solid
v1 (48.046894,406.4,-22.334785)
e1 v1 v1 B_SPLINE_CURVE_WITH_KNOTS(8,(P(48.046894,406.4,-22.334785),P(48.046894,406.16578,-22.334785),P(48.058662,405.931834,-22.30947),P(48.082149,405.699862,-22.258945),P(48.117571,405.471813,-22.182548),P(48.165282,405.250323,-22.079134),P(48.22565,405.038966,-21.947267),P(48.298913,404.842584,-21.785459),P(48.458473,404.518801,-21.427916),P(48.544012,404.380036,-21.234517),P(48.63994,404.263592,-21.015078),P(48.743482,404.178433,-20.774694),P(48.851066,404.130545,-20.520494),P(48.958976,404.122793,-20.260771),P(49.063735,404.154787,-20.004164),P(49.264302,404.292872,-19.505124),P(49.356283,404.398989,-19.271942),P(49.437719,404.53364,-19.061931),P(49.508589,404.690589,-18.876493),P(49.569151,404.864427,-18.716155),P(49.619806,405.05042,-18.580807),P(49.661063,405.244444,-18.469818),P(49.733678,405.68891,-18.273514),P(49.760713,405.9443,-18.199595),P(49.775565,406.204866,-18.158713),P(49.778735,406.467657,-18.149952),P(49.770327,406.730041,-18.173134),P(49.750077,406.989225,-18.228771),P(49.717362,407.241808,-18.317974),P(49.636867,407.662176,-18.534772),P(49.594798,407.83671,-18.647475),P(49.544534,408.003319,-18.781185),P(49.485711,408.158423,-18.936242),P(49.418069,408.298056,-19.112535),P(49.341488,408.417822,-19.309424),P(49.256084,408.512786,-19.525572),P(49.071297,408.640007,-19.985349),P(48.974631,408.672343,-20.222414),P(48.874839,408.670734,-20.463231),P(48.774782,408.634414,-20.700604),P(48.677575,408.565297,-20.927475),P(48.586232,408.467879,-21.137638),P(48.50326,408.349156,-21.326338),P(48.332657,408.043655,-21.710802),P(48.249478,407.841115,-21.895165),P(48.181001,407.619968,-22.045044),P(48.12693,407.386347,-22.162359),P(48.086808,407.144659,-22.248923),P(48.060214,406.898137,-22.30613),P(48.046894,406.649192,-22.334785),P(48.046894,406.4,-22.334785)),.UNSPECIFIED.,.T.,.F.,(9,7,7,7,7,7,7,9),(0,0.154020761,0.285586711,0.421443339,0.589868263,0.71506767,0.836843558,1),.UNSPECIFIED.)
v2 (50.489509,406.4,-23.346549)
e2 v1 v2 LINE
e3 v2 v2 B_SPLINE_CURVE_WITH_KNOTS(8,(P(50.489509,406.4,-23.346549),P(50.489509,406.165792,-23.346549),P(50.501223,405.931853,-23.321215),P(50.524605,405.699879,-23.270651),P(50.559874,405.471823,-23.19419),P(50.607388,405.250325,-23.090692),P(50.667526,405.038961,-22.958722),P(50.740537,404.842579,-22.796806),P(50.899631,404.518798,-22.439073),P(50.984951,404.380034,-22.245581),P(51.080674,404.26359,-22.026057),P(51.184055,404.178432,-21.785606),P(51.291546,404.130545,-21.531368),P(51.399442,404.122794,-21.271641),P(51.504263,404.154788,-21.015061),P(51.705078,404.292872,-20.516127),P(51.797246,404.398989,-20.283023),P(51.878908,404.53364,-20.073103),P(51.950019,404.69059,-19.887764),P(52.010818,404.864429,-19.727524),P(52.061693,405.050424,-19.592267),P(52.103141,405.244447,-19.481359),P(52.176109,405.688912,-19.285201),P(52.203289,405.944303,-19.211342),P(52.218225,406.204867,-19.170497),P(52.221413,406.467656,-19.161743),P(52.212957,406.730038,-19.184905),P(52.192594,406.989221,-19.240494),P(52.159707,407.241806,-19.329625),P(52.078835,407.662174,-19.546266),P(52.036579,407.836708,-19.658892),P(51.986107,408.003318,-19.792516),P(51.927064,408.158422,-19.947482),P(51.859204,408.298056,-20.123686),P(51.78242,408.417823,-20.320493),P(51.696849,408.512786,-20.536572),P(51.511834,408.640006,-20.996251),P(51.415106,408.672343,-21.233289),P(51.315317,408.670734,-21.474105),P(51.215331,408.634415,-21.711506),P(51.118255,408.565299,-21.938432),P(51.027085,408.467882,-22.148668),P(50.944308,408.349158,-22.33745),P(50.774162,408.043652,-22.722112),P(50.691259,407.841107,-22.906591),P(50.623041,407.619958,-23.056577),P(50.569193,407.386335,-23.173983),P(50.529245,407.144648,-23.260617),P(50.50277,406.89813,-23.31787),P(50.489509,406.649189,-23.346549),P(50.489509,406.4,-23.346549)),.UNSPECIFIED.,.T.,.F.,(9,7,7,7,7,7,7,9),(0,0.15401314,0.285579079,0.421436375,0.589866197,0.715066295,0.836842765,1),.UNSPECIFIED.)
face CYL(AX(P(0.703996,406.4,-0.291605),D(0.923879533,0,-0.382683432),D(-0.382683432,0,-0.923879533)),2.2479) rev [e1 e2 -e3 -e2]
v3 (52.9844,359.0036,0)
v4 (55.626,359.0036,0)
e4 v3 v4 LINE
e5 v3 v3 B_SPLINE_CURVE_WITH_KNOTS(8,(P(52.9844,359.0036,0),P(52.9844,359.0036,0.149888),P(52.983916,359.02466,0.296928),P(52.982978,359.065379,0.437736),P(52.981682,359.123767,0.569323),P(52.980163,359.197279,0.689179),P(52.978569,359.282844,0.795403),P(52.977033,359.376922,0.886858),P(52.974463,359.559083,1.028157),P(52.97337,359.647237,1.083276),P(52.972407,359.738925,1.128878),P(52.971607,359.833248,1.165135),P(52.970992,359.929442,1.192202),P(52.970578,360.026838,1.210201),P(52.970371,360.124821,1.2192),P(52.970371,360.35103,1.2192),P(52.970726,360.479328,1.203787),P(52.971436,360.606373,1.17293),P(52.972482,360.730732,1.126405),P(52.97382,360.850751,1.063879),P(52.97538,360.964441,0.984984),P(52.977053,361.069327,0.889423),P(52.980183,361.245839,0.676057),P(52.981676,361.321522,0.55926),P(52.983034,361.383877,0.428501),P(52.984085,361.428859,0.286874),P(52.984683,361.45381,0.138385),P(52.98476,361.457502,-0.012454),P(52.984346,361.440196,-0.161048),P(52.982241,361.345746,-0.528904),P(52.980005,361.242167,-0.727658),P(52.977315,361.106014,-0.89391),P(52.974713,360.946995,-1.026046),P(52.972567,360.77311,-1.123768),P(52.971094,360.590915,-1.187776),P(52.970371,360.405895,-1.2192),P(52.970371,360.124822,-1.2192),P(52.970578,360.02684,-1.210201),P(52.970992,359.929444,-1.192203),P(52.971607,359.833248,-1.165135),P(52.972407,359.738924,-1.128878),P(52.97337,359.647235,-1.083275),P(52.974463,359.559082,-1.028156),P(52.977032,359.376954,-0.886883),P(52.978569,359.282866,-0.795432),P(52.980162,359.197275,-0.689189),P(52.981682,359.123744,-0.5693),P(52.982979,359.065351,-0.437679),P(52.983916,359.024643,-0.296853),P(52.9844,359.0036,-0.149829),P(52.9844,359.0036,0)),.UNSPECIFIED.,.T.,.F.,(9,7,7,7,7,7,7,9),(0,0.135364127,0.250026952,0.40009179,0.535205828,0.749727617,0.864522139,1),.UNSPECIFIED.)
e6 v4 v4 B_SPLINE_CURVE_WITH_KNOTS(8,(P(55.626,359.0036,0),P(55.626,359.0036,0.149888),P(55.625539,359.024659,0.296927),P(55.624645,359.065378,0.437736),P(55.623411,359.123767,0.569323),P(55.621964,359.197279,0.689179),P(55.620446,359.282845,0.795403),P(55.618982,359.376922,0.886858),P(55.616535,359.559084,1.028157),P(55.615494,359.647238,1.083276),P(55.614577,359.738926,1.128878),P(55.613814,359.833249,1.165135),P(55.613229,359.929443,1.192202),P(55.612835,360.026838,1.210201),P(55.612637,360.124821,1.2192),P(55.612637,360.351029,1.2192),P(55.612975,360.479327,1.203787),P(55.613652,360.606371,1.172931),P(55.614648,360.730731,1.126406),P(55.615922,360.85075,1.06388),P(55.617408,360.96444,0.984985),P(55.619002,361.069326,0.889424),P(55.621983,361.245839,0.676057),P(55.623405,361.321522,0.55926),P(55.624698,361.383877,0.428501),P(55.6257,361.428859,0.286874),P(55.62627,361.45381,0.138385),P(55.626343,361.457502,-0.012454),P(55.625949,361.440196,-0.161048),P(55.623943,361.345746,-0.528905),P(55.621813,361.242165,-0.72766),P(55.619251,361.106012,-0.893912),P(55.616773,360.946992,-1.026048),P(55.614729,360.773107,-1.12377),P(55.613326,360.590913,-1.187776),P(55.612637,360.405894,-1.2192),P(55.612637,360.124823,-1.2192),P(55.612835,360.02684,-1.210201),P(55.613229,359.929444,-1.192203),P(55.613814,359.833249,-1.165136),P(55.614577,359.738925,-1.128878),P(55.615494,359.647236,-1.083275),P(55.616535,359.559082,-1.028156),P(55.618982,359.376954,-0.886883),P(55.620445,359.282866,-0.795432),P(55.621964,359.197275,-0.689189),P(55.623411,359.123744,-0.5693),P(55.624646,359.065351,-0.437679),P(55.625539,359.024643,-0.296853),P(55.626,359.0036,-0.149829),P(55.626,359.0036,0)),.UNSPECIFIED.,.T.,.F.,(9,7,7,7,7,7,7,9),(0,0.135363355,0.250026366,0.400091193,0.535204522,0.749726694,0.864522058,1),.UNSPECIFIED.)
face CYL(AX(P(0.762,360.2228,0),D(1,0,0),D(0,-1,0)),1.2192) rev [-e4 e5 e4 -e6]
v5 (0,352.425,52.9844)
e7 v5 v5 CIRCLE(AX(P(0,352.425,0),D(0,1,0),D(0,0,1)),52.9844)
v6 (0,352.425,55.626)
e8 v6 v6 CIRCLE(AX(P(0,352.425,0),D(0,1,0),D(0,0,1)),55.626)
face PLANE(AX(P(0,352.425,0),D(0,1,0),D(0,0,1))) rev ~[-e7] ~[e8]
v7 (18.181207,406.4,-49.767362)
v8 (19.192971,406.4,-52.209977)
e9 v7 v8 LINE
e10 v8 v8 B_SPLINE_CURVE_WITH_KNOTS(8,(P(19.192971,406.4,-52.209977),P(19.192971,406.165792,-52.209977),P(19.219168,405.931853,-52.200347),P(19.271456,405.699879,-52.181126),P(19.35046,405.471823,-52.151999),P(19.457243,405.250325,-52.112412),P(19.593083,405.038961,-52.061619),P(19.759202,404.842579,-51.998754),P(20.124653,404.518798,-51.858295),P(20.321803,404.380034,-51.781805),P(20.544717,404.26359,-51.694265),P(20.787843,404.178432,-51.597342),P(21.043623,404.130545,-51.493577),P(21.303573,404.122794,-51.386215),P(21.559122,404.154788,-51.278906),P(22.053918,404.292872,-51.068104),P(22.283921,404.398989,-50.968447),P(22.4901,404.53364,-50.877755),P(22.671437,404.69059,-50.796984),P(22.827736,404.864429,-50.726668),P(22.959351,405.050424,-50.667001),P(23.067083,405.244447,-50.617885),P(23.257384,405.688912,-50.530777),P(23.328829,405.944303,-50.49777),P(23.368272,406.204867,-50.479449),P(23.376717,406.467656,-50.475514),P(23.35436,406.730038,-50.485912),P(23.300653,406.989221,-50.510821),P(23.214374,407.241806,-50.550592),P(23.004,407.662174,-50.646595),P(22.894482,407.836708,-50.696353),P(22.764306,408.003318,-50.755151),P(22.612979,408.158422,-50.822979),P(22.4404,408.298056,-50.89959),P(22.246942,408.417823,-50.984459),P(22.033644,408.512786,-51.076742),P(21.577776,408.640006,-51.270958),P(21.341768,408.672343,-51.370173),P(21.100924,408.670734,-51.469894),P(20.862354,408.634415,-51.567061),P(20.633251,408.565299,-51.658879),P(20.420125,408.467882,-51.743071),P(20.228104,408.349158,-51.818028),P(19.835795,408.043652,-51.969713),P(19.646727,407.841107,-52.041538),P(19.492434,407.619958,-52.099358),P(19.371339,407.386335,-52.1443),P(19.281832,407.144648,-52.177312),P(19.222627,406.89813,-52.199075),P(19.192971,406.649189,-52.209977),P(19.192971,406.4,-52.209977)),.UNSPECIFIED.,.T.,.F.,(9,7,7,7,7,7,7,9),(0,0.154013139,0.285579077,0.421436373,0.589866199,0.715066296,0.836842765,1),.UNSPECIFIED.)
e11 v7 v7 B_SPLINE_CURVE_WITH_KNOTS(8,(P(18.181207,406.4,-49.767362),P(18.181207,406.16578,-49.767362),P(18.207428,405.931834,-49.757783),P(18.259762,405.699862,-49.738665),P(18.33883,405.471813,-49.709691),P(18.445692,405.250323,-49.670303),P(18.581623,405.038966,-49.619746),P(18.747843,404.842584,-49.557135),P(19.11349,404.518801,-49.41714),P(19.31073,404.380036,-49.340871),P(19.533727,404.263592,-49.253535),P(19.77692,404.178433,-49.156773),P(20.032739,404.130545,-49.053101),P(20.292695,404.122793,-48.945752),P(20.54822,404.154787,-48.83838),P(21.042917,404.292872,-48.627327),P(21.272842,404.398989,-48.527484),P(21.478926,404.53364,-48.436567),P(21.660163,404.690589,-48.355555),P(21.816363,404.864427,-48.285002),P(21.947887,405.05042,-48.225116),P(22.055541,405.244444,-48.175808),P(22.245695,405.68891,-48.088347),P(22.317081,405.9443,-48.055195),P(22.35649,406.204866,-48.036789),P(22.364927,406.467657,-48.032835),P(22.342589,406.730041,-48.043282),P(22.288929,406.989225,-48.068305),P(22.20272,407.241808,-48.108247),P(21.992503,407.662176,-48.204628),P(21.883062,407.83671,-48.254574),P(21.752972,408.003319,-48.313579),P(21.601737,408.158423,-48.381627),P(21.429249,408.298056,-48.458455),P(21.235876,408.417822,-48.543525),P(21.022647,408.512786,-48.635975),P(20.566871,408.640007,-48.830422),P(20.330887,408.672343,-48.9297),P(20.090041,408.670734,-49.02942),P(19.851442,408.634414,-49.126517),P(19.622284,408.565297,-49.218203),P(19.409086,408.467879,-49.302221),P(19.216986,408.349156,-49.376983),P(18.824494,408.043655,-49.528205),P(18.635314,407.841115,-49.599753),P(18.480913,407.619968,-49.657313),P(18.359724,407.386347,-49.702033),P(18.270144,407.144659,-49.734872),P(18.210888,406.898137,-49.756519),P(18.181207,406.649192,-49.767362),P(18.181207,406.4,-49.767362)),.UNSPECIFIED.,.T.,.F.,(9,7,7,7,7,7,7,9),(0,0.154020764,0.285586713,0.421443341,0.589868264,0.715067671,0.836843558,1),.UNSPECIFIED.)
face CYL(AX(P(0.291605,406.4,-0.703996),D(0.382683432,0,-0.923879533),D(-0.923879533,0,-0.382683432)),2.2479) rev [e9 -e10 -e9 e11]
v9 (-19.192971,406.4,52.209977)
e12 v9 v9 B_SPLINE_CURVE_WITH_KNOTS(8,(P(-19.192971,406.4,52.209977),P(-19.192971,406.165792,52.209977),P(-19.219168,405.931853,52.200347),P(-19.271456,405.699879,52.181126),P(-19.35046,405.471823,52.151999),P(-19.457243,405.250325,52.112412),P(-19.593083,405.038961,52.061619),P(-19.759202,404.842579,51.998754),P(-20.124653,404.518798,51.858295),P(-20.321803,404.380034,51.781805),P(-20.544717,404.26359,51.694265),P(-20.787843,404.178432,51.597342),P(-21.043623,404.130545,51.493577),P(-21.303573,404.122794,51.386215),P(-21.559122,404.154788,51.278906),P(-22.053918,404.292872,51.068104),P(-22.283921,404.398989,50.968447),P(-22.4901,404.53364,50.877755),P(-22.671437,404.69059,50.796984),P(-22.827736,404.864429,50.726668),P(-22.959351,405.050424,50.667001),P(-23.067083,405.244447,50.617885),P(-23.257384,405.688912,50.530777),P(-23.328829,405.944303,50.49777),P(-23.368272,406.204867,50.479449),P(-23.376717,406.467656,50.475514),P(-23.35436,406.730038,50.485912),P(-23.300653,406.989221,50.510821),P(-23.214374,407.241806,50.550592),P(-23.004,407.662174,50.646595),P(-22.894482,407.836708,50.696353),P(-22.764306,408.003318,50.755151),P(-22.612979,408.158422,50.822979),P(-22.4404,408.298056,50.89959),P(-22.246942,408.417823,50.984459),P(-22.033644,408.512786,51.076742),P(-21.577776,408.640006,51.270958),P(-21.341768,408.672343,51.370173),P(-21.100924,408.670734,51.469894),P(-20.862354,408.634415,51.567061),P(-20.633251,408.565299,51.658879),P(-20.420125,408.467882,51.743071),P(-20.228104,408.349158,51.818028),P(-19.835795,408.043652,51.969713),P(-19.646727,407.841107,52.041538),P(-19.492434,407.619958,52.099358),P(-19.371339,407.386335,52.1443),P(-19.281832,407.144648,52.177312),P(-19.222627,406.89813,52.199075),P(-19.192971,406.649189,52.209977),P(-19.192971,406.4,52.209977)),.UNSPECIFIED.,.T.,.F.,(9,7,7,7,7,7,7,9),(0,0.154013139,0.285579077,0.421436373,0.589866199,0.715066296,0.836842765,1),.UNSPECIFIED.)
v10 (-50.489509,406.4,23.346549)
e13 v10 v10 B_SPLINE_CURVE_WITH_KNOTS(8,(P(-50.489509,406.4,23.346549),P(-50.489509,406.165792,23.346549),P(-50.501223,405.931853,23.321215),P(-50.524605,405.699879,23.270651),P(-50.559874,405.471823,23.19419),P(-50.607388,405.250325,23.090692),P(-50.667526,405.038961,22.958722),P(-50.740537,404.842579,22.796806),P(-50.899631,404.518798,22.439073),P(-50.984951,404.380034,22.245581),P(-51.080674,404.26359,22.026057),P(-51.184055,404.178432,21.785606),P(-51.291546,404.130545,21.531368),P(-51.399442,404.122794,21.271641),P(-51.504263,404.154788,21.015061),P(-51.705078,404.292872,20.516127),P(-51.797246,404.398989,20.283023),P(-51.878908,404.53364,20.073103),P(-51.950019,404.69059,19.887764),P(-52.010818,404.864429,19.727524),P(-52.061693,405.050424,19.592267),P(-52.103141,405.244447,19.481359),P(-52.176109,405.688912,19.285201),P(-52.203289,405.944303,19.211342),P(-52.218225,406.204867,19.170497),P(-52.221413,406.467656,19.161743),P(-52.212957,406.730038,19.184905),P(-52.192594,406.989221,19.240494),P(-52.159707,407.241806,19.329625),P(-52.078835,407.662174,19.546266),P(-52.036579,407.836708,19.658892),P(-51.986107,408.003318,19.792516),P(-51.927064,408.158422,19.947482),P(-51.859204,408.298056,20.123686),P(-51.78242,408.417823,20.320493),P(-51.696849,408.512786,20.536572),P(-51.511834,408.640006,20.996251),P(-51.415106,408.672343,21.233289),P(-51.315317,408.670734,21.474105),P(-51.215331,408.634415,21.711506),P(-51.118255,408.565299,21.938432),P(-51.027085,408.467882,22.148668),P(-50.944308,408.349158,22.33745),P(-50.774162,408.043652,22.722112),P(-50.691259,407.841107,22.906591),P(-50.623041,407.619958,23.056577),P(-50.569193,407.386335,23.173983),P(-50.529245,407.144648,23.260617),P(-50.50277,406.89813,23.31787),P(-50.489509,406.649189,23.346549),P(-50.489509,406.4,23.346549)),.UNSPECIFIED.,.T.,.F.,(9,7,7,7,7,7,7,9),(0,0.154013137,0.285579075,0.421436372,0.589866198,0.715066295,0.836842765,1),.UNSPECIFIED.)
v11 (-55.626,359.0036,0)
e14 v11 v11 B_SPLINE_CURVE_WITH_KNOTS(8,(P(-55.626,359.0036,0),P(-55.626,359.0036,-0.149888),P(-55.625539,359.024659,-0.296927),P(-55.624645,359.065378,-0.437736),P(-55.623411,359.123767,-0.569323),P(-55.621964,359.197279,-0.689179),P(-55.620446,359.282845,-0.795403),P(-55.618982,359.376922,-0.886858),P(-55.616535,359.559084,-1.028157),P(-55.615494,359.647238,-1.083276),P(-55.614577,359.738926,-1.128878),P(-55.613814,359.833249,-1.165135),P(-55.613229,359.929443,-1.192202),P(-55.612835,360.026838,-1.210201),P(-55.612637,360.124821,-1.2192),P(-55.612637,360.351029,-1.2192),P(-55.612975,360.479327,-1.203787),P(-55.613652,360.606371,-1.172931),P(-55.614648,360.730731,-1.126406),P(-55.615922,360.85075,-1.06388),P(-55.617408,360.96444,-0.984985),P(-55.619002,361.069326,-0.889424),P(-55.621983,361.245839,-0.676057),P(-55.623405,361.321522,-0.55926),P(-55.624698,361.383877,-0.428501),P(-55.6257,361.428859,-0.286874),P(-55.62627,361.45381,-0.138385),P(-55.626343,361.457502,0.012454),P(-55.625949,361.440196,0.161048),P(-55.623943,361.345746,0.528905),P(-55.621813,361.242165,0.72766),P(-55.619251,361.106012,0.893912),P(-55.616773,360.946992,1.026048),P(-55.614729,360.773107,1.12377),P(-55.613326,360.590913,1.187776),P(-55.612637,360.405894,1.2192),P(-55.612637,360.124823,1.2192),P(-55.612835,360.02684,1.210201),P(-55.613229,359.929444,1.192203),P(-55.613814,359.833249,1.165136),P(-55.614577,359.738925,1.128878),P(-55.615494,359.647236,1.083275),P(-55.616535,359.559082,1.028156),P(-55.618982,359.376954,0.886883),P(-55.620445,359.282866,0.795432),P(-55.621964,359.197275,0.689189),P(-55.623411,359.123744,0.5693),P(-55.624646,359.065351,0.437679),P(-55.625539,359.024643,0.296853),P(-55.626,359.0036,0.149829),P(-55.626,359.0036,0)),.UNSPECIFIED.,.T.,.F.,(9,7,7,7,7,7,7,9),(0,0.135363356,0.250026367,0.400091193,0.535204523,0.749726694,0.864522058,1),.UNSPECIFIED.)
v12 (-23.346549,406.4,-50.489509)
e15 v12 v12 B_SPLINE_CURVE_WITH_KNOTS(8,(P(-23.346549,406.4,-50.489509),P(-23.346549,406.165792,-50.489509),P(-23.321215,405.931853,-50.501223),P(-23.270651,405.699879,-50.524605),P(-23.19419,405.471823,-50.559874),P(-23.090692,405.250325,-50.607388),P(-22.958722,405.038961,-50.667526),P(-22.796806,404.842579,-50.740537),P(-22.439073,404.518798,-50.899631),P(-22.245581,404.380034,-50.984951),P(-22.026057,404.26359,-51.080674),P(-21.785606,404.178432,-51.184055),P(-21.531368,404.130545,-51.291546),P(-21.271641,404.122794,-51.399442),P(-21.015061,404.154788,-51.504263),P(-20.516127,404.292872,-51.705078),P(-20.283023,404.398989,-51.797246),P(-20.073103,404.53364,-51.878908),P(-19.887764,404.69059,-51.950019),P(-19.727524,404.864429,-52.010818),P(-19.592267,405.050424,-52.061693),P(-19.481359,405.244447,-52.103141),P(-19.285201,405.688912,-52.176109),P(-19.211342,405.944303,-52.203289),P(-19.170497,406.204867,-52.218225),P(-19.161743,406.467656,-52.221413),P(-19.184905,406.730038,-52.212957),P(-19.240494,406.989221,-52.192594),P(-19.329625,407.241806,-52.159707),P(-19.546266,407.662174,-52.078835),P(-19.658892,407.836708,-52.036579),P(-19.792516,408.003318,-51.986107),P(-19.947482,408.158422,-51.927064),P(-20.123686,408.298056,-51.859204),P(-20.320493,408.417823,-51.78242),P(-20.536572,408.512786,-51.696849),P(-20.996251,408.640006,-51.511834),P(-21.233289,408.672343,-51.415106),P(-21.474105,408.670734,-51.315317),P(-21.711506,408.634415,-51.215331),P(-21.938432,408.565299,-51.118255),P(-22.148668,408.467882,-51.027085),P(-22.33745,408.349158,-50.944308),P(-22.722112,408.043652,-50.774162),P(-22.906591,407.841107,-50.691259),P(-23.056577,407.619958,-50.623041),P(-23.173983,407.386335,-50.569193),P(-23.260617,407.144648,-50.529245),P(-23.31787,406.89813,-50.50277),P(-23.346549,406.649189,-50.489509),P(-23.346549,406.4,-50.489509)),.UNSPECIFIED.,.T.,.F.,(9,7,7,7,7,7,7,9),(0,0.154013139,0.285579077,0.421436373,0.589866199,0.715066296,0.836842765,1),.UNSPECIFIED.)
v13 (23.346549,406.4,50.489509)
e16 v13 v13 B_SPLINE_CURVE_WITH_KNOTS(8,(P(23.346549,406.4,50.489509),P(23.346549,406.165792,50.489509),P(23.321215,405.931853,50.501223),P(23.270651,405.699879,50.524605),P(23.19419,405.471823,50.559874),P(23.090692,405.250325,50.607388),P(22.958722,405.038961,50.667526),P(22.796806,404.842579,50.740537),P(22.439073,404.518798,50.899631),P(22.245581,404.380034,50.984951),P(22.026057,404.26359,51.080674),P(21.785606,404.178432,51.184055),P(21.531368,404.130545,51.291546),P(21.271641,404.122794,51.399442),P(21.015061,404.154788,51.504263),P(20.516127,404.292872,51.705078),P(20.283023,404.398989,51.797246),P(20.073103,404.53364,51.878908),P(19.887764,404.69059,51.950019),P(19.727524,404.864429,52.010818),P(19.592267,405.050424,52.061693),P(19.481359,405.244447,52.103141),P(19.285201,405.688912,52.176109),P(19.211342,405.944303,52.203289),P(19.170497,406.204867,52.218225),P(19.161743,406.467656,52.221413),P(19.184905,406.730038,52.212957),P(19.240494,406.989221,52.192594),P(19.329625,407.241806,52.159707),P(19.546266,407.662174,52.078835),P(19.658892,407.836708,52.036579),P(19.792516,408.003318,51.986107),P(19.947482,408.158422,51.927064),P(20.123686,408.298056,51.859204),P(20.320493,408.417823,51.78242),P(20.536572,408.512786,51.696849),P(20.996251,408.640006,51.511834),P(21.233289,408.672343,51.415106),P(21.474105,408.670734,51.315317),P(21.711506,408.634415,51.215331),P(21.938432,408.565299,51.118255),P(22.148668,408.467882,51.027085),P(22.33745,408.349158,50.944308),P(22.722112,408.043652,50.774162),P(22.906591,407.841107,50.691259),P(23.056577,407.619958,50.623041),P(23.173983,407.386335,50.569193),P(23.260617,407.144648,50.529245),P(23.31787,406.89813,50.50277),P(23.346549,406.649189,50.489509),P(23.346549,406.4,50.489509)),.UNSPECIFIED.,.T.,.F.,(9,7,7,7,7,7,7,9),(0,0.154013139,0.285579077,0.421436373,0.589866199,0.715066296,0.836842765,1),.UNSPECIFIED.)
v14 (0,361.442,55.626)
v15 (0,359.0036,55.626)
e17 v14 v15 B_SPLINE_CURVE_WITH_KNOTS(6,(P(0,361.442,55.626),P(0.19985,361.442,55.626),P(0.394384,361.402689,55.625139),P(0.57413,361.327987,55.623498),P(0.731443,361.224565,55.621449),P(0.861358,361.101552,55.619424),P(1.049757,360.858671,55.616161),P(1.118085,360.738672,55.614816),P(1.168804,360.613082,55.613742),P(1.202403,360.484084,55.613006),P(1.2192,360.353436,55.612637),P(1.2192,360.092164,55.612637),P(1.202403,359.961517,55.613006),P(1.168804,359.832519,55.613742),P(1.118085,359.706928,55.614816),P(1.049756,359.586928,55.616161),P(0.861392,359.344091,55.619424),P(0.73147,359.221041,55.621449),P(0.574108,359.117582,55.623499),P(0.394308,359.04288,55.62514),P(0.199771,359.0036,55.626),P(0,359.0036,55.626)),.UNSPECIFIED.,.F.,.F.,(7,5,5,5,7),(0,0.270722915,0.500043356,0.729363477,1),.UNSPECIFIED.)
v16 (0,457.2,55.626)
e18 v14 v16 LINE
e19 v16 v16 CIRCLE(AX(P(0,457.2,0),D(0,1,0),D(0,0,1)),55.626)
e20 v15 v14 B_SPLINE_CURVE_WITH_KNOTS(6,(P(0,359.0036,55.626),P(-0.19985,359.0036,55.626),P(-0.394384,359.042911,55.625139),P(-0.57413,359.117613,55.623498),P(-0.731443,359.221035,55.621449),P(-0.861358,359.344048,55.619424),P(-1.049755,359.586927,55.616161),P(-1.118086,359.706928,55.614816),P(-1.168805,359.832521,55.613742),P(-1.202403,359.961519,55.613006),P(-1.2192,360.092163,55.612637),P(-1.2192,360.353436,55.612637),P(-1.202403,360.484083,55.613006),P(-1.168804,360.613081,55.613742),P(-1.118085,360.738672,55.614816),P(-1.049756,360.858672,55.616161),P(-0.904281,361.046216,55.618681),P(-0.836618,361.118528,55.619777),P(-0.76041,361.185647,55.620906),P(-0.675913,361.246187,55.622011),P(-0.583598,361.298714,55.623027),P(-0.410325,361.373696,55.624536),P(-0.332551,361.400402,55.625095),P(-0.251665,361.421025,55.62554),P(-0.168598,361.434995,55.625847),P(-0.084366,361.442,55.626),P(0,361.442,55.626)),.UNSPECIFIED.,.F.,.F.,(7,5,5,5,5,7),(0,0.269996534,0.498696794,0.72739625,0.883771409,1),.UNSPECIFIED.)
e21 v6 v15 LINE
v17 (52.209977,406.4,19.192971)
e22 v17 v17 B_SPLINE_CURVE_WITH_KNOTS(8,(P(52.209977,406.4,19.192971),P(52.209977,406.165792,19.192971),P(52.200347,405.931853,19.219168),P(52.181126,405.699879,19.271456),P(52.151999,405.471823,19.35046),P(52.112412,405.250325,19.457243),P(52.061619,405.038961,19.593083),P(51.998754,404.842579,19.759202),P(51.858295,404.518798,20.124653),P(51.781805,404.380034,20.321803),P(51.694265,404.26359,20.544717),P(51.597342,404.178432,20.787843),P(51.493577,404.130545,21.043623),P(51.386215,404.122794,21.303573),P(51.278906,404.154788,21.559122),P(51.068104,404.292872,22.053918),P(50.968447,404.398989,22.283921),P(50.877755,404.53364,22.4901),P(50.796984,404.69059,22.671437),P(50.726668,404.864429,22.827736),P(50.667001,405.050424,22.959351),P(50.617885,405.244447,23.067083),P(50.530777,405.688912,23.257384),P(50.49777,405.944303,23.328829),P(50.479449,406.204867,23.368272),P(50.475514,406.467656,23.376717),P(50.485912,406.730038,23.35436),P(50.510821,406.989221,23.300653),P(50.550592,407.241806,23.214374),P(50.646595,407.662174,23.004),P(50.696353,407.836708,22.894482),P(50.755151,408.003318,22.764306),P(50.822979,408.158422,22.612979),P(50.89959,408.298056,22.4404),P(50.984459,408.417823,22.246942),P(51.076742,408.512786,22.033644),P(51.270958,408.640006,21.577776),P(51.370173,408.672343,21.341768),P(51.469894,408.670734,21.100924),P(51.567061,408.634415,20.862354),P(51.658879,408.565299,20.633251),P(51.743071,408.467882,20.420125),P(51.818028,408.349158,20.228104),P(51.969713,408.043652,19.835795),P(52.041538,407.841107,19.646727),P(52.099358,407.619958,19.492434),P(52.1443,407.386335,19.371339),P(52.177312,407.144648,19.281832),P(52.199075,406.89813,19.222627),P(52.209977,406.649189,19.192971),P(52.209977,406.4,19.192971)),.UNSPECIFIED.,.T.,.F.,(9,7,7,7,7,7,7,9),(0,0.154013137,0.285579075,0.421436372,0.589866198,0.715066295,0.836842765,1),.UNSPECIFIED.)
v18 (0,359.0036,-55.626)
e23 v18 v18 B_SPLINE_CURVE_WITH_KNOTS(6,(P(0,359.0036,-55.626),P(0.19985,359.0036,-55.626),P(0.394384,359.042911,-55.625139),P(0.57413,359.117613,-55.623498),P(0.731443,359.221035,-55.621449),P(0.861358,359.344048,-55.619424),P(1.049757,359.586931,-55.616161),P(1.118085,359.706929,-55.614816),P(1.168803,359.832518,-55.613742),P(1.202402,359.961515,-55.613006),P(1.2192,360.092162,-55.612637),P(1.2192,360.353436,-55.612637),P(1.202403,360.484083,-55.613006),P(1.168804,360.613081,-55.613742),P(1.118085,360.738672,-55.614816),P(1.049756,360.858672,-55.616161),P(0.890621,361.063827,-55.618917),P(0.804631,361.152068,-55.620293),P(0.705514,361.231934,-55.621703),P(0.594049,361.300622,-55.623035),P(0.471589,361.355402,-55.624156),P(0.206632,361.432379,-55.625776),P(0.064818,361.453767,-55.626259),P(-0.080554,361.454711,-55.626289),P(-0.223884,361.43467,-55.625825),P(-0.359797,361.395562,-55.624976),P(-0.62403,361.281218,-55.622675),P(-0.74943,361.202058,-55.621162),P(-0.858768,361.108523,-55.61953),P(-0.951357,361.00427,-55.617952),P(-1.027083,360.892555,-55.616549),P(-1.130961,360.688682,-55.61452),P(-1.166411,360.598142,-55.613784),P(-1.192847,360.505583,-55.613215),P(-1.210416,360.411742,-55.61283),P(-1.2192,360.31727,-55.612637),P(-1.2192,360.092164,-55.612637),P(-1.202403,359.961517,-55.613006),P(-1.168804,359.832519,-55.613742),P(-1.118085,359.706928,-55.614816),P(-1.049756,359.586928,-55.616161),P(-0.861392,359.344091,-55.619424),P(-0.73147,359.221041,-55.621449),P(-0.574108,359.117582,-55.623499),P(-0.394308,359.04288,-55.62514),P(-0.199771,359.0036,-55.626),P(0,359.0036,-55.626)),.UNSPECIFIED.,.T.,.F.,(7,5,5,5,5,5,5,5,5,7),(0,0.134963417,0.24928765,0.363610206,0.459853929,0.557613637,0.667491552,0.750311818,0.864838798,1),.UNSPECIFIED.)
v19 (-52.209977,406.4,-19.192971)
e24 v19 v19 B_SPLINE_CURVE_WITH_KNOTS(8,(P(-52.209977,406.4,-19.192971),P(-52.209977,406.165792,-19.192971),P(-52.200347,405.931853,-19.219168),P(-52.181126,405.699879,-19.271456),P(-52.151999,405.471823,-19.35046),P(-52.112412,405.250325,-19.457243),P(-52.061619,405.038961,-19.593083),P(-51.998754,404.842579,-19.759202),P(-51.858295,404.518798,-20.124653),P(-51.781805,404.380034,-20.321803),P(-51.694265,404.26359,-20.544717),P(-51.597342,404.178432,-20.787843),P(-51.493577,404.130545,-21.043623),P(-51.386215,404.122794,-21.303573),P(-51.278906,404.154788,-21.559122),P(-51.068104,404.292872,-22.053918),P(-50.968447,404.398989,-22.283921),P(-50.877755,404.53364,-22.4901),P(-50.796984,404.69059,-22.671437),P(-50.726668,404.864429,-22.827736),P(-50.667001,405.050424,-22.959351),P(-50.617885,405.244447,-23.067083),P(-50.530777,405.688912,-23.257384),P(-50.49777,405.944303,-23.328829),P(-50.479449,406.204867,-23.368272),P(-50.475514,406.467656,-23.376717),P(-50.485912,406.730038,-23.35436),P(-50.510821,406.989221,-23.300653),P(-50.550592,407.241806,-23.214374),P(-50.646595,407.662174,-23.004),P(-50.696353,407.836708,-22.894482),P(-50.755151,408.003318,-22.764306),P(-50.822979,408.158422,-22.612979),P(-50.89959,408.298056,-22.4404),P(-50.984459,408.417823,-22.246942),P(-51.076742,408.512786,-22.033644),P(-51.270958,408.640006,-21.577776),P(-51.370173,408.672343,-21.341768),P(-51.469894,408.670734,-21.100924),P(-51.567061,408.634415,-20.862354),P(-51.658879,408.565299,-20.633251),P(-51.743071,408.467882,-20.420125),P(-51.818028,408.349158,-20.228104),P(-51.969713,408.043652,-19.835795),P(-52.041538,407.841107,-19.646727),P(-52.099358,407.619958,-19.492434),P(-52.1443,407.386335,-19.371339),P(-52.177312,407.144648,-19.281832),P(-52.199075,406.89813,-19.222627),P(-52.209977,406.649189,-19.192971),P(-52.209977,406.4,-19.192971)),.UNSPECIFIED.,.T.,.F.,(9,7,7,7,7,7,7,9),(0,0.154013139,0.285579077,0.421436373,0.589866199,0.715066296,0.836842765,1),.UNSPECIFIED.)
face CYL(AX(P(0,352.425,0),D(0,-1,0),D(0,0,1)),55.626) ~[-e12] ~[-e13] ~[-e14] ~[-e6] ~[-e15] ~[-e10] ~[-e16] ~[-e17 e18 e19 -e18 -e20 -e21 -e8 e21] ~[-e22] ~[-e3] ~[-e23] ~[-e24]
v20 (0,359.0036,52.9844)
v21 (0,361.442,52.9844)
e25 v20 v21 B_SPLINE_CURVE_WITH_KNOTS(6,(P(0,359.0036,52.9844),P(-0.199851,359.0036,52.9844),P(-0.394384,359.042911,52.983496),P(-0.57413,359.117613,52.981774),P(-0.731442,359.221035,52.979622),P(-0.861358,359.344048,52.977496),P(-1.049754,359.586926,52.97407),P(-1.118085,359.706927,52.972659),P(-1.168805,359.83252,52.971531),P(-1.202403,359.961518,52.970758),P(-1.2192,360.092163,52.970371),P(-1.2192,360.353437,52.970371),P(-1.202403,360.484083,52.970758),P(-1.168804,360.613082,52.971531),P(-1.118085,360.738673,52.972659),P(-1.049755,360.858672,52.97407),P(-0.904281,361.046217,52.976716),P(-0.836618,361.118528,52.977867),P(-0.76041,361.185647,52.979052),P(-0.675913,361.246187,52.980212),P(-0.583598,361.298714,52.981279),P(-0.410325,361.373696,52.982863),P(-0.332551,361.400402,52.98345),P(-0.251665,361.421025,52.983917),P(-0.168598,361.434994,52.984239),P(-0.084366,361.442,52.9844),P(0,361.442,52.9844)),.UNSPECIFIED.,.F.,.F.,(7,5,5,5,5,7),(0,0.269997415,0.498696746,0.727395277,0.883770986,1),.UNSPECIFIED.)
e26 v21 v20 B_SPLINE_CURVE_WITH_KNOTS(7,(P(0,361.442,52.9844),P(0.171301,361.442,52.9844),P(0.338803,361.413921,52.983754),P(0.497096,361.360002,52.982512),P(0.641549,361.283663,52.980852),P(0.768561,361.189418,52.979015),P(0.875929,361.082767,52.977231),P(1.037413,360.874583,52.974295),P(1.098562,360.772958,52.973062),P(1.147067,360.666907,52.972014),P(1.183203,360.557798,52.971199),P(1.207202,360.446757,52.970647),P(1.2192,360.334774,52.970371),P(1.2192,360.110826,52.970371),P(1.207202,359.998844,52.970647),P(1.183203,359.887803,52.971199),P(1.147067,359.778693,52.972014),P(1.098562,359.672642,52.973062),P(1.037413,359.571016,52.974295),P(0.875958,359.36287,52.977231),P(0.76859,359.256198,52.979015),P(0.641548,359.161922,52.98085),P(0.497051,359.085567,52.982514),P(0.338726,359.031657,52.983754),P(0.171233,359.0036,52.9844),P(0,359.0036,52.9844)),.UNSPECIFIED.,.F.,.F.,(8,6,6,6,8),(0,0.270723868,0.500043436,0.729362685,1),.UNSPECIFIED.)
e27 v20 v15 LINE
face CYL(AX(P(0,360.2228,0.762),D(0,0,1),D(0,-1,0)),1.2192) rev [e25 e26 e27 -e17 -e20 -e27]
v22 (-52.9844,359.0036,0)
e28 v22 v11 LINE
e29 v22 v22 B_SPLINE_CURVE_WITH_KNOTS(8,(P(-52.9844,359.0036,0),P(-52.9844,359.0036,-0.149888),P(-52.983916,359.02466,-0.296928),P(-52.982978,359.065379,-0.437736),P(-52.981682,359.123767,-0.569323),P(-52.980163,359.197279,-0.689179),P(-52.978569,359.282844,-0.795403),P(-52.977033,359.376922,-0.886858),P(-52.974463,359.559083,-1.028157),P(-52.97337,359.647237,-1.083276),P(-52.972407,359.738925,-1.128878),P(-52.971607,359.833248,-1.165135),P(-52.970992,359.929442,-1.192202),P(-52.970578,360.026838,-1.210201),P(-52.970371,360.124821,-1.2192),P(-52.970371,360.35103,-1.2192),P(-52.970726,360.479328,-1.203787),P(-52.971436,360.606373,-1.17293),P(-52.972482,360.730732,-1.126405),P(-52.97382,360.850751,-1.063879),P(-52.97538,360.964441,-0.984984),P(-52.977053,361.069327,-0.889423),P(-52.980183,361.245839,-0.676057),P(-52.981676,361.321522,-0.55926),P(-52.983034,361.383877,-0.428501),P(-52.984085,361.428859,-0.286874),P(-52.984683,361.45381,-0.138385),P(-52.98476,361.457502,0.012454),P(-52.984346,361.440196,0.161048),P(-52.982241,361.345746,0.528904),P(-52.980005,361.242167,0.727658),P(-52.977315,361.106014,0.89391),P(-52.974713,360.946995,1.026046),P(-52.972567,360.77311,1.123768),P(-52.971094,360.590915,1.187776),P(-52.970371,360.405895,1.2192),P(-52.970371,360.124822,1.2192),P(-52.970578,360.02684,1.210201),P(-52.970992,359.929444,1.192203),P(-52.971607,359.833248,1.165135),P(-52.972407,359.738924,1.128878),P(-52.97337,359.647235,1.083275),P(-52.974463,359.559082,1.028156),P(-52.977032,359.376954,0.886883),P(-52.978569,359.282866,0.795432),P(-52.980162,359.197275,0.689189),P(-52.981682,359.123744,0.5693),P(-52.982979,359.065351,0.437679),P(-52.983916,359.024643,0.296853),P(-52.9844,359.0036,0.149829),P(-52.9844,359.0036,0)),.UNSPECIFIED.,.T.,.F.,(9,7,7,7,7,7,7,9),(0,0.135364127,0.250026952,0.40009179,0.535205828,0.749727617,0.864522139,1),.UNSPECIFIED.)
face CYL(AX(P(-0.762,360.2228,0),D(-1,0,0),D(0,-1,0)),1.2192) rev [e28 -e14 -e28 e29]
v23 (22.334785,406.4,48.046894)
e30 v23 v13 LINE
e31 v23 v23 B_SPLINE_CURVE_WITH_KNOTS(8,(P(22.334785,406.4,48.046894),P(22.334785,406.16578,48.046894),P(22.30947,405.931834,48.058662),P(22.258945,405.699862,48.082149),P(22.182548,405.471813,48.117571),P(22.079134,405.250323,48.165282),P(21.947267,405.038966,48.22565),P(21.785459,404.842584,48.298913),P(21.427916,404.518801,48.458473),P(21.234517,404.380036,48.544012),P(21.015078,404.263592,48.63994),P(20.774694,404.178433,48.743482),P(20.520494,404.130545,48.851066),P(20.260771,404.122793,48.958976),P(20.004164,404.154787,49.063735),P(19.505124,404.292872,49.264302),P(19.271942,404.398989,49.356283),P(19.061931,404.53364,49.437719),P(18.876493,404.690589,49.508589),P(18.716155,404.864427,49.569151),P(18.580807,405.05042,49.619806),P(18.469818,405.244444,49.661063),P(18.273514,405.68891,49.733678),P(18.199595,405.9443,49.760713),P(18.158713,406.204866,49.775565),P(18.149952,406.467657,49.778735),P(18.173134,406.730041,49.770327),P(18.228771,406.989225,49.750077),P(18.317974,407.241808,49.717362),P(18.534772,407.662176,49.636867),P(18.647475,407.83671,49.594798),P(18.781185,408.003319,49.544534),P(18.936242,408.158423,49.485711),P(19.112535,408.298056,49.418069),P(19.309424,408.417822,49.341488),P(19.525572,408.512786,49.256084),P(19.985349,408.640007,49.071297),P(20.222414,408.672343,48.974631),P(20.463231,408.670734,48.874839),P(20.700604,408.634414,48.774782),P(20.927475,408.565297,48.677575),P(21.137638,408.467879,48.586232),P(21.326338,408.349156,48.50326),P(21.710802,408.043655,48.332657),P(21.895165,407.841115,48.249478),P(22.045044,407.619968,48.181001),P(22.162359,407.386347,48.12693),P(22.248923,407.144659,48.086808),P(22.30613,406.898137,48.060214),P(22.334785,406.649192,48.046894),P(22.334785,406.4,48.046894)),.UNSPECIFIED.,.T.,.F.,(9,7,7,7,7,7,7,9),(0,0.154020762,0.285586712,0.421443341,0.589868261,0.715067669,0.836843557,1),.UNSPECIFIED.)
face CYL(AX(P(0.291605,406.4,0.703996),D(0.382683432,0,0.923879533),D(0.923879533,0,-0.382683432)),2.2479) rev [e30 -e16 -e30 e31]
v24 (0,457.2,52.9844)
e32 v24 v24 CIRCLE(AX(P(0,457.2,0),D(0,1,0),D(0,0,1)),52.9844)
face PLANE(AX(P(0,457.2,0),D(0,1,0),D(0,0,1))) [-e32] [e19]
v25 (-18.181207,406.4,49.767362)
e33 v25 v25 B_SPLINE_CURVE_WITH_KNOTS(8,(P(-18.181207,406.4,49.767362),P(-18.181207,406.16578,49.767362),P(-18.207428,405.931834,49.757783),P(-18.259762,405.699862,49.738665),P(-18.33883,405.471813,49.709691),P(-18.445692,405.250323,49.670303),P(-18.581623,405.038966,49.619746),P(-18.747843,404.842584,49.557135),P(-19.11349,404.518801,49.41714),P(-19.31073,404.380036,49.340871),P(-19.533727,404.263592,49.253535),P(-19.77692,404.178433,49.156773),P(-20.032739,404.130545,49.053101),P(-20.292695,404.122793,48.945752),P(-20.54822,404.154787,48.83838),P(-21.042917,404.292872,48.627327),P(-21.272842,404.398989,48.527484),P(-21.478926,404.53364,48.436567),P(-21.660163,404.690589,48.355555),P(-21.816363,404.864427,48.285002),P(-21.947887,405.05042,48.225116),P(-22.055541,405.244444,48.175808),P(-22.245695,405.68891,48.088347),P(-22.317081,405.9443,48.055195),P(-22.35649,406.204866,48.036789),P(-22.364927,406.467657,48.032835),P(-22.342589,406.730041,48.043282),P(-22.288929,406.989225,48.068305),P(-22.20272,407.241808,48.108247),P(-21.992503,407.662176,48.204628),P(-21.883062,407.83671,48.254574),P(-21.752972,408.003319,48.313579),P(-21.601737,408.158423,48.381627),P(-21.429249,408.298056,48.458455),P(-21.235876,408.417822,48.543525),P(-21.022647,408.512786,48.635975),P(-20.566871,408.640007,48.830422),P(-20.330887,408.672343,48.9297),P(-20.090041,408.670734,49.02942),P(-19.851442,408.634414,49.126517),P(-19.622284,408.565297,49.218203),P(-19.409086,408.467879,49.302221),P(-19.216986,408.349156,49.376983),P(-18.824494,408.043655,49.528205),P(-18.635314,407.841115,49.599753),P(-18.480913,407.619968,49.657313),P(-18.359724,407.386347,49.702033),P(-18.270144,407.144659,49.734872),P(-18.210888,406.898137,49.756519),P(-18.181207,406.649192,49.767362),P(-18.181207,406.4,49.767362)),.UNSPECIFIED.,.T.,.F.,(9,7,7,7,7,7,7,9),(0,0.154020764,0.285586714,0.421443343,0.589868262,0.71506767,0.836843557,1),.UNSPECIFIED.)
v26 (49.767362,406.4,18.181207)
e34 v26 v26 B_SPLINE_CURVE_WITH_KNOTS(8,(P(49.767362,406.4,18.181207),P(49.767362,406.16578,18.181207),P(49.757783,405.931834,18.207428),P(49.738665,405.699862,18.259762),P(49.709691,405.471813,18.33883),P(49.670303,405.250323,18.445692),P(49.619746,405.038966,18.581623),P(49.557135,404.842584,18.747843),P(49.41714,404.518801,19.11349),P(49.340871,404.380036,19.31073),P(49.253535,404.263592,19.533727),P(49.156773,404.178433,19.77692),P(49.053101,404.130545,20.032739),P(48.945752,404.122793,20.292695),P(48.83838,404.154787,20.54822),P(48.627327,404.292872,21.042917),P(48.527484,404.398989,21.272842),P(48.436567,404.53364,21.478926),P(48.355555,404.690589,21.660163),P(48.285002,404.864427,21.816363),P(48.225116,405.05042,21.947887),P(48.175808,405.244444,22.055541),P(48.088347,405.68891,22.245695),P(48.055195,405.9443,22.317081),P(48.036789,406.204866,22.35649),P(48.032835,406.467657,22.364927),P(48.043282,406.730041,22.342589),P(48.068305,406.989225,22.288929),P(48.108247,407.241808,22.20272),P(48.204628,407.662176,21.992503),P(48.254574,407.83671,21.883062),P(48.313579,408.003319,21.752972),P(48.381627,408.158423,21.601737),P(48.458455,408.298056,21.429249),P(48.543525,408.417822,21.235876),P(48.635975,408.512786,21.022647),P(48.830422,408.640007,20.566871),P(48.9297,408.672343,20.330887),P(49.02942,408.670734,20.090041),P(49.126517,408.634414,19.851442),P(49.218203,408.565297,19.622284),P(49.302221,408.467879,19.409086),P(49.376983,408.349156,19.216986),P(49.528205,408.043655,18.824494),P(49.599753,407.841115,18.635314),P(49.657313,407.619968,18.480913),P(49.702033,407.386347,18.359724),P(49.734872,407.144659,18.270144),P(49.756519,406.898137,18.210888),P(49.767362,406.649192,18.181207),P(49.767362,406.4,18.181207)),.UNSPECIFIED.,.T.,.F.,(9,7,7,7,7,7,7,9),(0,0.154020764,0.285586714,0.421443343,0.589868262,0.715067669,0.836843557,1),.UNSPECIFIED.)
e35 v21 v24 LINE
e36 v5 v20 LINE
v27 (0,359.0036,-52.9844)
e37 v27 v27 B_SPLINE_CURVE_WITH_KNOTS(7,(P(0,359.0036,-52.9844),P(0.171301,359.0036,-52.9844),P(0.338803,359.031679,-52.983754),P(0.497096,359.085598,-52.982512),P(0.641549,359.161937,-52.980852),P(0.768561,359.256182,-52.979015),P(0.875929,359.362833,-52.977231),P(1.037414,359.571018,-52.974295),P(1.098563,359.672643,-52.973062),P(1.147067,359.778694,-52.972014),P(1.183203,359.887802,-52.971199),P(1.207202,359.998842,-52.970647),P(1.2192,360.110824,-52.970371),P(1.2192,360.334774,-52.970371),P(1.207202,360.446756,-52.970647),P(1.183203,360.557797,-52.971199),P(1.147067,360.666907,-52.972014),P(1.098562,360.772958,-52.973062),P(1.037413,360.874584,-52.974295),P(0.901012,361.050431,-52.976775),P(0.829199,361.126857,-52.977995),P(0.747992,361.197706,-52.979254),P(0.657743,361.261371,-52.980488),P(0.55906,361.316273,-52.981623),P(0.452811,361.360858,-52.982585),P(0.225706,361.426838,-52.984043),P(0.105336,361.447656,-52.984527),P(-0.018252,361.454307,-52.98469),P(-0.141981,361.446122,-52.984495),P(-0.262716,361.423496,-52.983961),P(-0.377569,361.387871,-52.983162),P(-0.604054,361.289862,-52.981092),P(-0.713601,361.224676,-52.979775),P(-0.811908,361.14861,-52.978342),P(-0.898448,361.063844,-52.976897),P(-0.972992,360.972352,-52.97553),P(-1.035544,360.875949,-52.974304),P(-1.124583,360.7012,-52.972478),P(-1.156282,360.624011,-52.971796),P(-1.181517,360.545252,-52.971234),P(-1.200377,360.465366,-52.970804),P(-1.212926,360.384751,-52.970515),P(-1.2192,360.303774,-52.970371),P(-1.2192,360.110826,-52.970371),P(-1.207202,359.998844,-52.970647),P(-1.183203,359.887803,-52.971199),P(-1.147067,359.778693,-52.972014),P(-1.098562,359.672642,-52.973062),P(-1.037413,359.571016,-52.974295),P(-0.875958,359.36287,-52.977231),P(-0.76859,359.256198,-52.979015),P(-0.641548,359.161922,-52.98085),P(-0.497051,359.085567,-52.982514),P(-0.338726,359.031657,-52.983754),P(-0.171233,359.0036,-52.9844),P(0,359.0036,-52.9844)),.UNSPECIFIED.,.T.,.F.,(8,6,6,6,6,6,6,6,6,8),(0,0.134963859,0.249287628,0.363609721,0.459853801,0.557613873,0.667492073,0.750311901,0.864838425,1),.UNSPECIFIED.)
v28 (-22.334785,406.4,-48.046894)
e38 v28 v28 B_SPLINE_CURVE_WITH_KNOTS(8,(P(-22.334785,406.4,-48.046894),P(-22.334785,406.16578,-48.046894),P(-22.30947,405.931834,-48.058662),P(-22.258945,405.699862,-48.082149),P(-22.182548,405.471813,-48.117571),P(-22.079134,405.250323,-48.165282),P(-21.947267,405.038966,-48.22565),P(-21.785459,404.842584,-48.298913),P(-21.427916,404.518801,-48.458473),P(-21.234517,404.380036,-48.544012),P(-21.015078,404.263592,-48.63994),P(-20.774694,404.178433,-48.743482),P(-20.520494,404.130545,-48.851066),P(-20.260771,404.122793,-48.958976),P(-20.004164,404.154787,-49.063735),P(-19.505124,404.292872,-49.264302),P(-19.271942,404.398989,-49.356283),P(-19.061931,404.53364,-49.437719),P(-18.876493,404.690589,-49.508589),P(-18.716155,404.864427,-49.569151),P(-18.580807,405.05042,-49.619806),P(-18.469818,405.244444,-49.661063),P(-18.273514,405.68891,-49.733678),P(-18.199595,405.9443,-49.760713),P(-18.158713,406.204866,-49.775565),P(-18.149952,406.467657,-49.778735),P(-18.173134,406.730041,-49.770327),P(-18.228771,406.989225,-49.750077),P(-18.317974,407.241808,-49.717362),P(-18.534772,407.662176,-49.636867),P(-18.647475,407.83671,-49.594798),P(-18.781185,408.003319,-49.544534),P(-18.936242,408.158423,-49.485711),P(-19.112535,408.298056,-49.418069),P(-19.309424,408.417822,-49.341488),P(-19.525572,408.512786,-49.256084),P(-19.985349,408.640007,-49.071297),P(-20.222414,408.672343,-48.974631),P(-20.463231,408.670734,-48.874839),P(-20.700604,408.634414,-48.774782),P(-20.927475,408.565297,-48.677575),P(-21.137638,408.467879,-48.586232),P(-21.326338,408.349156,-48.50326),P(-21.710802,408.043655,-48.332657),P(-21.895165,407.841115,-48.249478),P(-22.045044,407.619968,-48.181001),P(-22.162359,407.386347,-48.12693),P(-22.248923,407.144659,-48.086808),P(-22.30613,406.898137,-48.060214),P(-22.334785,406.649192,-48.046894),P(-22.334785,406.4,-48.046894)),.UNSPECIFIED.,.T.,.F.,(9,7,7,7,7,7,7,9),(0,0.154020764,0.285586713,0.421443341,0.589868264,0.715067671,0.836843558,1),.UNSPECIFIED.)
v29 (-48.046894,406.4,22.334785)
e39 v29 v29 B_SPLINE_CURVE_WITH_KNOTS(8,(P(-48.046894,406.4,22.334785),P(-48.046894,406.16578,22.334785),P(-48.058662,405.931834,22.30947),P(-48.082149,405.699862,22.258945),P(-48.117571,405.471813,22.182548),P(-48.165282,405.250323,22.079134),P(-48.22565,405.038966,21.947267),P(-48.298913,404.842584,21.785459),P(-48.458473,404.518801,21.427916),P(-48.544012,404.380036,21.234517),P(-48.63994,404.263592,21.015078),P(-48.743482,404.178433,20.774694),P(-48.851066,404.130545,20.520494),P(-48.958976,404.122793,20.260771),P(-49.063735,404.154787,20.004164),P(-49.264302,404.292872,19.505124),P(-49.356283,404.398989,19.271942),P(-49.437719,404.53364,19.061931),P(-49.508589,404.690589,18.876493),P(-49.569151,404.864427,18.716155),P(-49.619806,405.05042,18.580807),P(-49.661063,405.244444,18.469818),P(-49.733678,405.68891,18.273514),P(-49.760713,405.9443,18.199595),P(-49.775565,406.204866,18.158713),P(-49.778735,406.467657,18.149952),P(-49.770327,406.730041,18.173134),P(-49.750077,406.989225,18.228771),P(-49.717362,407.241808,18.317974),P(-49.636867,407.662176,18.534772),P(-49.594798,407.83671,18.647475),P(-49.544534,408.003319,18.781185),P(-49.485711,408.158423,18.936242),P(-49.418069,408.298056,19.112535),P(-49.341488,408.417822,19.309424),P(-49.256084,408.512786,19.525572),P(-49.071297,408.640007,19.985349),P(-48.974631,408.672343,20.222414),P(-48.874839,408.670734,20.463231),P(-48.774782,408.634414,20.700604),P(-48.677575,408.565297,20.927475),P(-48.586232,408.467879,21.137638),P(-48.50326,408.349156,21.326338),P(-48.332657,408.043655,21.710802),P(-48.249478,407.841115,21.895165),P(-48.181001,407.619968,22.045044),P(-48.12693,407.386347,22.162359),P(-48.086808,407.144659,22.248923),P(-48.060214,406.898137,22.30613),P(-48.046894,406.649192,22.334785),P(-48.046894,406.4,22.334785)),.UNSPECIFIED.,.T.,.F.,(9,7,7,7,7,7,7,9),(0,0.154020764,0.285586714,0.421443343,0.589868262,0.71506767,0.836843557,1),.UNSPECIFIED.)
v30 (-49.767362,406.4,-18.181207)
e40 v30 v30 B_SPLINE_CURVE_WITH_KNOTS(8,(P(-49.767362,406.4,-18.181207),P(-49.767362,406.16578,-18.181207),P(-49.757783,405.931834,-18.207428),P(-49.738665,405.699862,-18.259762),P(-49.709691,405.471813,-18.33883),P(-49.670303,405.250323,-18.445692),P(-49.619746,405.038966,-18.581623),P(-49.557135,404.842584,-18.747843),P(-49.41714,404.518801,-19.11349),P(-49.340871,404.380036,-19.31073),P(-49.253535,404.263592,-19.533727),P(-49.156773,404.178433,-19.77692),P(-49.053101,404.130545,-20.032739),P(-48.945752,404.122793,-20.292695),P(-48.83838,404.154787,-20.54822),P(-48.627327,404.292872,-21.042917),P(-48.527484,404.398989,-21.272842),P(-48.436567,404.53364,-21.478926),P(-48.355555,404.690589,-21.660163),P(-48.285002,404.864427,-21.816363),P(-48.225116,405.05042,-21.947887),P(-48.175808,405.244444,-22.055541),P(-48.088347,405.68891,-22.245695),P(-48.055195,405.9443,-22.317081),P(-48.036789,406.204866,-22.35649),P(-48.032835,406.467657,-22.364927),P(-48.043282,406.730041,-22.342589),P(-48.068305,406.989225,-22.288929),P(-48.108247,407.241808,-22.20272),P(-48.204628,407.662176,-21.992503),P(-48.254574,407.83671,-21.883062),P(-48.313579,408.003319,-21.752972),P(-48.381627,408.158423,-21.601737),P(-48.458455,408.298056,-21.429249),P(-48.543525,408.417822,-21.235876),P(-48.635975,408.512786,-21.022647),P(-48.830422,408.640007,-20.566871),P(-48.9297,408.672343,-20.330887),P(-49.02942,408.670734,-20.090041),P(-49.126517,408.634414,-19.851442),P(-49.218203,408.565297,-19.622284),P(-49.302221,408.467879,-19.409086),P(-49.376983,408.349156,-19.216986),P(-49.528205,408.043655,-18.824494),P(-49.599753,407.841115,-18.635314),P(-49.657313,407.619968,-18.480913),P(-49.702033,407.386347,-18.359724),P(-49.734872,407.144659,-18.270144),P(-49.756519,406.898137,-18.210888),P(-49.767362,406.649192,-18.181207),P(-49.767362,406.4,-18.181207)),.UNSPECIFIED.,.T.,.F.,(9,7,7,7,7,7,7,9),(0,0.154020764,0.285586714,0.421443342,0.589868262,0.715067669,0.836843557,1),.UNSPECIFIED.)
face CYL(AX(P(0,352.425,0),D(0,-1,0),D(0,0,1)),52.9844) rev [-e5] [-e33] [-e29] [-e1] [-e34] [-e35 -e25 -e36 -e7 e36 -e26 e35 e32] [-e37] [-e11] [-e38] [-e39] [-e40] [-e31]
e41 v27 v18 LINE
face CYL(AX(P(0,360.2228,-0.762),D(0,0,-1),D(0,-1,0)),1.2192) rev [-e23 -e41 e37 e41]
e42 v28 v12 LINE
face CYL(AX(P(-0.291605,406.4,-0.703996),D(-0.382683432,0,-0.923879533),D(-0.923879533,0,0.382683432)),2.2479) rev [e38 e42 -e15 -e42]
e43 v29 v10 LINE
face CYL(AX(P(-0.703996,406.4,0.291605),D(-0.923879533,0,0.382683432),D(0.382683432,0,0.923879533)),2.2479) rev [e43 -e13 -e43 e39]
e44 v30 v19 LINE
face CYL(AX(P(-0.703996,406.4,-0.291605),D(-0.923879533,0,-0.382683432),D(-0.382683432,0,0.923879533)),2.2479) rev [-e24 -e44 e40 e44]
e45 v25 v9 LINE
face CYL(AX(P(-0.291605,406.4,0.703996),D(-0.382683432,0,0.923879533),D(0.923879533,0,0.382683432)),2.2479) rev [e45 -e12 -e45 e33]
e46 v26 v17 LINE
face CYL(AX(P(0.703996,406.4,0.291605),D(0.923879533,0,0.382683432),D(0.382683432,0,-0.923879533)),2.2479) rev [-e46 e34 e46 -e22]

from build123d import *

# Parameters (mm, degrees)
BOSS_EXTRUDE1_START = 352.425
SKETCH1_R           = 55.626
SKETCH1_R_2         = 52.9844
BOSS_EXTRUDE1_DEPTH = 104.775
CIRPATTERN1_COUNT   = 4
CIRPATTERN2_COUNT   = 8


with BuildPart() as part:
    # Sketch1 → Boss-Extrude1 (new body)
    with BuildSketch(Plane(origin=(0, 0, 0), x_dir=(1, 0, 0), z_dir=(0, 1, 0)).offset(BOSS_EXTRUDE1_START)):
        with Locations(Location((0, 0, 0), (0, 0, 270))):
            Circle(SKETCH1_R)
        with Locations(Location((0, 0, 0), (0, 0, 270))):
            Circle(SKETCH1_R_2, mode=Mode.SUBTRACT)
    extrude(amount=BOSS_EXTRUDE1_DEPTH)

    # Sketch4 → #2 Clearance Hole1 (revolve, cut)
    with BuildSketch(Plane(origin=(0, 360.2228, 55.626), x_dir=(0, -1, 0), z_dir=(1, 0, 0))):
        Polygon((0, 0), (0, 55.596569267), (1.2192, 54.864), (1.2192, 0), align=None)
    f_2_clearance_hole1 = revolve(axis=Axis((0, 360.2228, 61.976), (0, 0, -1)), mode=Mode.SUBTRACT)

    # Sketch6 → #8 Clearance Hole1 (revolve, cut)
    with BuildSketch(Plane(origin=(21.287148609, 406.4, 51.391722875), x_dir=(0.9238795325112864, 0, -0.38268343236509056), z_dir=(0, 1, 0))):
        Polygon((0, 0), (0, 56.214674586), (2.2479, 54.864), (2.2479, 0), align=None)
    f_8_clearance_hole1 = revolve(axis=Axis((23.717188404, 406.4, 57.258357907), (-0.38268343236509056, 0, -0.9238795325112865)), mode=Mode.SUBTRACT)

    # CirPattern1: #2 Clearance Hole1 ×4 about axis
    cirpattern1_axis = Axis((0, 457.2, 0), (0, -1, 0))
    for i in range(1, CIRPATTERN1_COUNT):
        add(f_2_clearance_hole1.rotate(cirpattern1_axis, i * 360 / CIRPATTERN1_COUNT), mode=Mode.SUBTRACT)

    # CirPattern2: #8 Clearance Hole1 ×8 about axis
    cirpattern2_axis = Axis((0, 457.2, 0), (0, -1, 0))
    for i in range(1, CIRPATTERN2_COUNT):
        add(f_8_clearance_hole1.rotate(cirpattern2_axis, i * 360 / CIRPATTERN2_COUNT), mode=Mode.SUBTRACT)


solid = part.part
